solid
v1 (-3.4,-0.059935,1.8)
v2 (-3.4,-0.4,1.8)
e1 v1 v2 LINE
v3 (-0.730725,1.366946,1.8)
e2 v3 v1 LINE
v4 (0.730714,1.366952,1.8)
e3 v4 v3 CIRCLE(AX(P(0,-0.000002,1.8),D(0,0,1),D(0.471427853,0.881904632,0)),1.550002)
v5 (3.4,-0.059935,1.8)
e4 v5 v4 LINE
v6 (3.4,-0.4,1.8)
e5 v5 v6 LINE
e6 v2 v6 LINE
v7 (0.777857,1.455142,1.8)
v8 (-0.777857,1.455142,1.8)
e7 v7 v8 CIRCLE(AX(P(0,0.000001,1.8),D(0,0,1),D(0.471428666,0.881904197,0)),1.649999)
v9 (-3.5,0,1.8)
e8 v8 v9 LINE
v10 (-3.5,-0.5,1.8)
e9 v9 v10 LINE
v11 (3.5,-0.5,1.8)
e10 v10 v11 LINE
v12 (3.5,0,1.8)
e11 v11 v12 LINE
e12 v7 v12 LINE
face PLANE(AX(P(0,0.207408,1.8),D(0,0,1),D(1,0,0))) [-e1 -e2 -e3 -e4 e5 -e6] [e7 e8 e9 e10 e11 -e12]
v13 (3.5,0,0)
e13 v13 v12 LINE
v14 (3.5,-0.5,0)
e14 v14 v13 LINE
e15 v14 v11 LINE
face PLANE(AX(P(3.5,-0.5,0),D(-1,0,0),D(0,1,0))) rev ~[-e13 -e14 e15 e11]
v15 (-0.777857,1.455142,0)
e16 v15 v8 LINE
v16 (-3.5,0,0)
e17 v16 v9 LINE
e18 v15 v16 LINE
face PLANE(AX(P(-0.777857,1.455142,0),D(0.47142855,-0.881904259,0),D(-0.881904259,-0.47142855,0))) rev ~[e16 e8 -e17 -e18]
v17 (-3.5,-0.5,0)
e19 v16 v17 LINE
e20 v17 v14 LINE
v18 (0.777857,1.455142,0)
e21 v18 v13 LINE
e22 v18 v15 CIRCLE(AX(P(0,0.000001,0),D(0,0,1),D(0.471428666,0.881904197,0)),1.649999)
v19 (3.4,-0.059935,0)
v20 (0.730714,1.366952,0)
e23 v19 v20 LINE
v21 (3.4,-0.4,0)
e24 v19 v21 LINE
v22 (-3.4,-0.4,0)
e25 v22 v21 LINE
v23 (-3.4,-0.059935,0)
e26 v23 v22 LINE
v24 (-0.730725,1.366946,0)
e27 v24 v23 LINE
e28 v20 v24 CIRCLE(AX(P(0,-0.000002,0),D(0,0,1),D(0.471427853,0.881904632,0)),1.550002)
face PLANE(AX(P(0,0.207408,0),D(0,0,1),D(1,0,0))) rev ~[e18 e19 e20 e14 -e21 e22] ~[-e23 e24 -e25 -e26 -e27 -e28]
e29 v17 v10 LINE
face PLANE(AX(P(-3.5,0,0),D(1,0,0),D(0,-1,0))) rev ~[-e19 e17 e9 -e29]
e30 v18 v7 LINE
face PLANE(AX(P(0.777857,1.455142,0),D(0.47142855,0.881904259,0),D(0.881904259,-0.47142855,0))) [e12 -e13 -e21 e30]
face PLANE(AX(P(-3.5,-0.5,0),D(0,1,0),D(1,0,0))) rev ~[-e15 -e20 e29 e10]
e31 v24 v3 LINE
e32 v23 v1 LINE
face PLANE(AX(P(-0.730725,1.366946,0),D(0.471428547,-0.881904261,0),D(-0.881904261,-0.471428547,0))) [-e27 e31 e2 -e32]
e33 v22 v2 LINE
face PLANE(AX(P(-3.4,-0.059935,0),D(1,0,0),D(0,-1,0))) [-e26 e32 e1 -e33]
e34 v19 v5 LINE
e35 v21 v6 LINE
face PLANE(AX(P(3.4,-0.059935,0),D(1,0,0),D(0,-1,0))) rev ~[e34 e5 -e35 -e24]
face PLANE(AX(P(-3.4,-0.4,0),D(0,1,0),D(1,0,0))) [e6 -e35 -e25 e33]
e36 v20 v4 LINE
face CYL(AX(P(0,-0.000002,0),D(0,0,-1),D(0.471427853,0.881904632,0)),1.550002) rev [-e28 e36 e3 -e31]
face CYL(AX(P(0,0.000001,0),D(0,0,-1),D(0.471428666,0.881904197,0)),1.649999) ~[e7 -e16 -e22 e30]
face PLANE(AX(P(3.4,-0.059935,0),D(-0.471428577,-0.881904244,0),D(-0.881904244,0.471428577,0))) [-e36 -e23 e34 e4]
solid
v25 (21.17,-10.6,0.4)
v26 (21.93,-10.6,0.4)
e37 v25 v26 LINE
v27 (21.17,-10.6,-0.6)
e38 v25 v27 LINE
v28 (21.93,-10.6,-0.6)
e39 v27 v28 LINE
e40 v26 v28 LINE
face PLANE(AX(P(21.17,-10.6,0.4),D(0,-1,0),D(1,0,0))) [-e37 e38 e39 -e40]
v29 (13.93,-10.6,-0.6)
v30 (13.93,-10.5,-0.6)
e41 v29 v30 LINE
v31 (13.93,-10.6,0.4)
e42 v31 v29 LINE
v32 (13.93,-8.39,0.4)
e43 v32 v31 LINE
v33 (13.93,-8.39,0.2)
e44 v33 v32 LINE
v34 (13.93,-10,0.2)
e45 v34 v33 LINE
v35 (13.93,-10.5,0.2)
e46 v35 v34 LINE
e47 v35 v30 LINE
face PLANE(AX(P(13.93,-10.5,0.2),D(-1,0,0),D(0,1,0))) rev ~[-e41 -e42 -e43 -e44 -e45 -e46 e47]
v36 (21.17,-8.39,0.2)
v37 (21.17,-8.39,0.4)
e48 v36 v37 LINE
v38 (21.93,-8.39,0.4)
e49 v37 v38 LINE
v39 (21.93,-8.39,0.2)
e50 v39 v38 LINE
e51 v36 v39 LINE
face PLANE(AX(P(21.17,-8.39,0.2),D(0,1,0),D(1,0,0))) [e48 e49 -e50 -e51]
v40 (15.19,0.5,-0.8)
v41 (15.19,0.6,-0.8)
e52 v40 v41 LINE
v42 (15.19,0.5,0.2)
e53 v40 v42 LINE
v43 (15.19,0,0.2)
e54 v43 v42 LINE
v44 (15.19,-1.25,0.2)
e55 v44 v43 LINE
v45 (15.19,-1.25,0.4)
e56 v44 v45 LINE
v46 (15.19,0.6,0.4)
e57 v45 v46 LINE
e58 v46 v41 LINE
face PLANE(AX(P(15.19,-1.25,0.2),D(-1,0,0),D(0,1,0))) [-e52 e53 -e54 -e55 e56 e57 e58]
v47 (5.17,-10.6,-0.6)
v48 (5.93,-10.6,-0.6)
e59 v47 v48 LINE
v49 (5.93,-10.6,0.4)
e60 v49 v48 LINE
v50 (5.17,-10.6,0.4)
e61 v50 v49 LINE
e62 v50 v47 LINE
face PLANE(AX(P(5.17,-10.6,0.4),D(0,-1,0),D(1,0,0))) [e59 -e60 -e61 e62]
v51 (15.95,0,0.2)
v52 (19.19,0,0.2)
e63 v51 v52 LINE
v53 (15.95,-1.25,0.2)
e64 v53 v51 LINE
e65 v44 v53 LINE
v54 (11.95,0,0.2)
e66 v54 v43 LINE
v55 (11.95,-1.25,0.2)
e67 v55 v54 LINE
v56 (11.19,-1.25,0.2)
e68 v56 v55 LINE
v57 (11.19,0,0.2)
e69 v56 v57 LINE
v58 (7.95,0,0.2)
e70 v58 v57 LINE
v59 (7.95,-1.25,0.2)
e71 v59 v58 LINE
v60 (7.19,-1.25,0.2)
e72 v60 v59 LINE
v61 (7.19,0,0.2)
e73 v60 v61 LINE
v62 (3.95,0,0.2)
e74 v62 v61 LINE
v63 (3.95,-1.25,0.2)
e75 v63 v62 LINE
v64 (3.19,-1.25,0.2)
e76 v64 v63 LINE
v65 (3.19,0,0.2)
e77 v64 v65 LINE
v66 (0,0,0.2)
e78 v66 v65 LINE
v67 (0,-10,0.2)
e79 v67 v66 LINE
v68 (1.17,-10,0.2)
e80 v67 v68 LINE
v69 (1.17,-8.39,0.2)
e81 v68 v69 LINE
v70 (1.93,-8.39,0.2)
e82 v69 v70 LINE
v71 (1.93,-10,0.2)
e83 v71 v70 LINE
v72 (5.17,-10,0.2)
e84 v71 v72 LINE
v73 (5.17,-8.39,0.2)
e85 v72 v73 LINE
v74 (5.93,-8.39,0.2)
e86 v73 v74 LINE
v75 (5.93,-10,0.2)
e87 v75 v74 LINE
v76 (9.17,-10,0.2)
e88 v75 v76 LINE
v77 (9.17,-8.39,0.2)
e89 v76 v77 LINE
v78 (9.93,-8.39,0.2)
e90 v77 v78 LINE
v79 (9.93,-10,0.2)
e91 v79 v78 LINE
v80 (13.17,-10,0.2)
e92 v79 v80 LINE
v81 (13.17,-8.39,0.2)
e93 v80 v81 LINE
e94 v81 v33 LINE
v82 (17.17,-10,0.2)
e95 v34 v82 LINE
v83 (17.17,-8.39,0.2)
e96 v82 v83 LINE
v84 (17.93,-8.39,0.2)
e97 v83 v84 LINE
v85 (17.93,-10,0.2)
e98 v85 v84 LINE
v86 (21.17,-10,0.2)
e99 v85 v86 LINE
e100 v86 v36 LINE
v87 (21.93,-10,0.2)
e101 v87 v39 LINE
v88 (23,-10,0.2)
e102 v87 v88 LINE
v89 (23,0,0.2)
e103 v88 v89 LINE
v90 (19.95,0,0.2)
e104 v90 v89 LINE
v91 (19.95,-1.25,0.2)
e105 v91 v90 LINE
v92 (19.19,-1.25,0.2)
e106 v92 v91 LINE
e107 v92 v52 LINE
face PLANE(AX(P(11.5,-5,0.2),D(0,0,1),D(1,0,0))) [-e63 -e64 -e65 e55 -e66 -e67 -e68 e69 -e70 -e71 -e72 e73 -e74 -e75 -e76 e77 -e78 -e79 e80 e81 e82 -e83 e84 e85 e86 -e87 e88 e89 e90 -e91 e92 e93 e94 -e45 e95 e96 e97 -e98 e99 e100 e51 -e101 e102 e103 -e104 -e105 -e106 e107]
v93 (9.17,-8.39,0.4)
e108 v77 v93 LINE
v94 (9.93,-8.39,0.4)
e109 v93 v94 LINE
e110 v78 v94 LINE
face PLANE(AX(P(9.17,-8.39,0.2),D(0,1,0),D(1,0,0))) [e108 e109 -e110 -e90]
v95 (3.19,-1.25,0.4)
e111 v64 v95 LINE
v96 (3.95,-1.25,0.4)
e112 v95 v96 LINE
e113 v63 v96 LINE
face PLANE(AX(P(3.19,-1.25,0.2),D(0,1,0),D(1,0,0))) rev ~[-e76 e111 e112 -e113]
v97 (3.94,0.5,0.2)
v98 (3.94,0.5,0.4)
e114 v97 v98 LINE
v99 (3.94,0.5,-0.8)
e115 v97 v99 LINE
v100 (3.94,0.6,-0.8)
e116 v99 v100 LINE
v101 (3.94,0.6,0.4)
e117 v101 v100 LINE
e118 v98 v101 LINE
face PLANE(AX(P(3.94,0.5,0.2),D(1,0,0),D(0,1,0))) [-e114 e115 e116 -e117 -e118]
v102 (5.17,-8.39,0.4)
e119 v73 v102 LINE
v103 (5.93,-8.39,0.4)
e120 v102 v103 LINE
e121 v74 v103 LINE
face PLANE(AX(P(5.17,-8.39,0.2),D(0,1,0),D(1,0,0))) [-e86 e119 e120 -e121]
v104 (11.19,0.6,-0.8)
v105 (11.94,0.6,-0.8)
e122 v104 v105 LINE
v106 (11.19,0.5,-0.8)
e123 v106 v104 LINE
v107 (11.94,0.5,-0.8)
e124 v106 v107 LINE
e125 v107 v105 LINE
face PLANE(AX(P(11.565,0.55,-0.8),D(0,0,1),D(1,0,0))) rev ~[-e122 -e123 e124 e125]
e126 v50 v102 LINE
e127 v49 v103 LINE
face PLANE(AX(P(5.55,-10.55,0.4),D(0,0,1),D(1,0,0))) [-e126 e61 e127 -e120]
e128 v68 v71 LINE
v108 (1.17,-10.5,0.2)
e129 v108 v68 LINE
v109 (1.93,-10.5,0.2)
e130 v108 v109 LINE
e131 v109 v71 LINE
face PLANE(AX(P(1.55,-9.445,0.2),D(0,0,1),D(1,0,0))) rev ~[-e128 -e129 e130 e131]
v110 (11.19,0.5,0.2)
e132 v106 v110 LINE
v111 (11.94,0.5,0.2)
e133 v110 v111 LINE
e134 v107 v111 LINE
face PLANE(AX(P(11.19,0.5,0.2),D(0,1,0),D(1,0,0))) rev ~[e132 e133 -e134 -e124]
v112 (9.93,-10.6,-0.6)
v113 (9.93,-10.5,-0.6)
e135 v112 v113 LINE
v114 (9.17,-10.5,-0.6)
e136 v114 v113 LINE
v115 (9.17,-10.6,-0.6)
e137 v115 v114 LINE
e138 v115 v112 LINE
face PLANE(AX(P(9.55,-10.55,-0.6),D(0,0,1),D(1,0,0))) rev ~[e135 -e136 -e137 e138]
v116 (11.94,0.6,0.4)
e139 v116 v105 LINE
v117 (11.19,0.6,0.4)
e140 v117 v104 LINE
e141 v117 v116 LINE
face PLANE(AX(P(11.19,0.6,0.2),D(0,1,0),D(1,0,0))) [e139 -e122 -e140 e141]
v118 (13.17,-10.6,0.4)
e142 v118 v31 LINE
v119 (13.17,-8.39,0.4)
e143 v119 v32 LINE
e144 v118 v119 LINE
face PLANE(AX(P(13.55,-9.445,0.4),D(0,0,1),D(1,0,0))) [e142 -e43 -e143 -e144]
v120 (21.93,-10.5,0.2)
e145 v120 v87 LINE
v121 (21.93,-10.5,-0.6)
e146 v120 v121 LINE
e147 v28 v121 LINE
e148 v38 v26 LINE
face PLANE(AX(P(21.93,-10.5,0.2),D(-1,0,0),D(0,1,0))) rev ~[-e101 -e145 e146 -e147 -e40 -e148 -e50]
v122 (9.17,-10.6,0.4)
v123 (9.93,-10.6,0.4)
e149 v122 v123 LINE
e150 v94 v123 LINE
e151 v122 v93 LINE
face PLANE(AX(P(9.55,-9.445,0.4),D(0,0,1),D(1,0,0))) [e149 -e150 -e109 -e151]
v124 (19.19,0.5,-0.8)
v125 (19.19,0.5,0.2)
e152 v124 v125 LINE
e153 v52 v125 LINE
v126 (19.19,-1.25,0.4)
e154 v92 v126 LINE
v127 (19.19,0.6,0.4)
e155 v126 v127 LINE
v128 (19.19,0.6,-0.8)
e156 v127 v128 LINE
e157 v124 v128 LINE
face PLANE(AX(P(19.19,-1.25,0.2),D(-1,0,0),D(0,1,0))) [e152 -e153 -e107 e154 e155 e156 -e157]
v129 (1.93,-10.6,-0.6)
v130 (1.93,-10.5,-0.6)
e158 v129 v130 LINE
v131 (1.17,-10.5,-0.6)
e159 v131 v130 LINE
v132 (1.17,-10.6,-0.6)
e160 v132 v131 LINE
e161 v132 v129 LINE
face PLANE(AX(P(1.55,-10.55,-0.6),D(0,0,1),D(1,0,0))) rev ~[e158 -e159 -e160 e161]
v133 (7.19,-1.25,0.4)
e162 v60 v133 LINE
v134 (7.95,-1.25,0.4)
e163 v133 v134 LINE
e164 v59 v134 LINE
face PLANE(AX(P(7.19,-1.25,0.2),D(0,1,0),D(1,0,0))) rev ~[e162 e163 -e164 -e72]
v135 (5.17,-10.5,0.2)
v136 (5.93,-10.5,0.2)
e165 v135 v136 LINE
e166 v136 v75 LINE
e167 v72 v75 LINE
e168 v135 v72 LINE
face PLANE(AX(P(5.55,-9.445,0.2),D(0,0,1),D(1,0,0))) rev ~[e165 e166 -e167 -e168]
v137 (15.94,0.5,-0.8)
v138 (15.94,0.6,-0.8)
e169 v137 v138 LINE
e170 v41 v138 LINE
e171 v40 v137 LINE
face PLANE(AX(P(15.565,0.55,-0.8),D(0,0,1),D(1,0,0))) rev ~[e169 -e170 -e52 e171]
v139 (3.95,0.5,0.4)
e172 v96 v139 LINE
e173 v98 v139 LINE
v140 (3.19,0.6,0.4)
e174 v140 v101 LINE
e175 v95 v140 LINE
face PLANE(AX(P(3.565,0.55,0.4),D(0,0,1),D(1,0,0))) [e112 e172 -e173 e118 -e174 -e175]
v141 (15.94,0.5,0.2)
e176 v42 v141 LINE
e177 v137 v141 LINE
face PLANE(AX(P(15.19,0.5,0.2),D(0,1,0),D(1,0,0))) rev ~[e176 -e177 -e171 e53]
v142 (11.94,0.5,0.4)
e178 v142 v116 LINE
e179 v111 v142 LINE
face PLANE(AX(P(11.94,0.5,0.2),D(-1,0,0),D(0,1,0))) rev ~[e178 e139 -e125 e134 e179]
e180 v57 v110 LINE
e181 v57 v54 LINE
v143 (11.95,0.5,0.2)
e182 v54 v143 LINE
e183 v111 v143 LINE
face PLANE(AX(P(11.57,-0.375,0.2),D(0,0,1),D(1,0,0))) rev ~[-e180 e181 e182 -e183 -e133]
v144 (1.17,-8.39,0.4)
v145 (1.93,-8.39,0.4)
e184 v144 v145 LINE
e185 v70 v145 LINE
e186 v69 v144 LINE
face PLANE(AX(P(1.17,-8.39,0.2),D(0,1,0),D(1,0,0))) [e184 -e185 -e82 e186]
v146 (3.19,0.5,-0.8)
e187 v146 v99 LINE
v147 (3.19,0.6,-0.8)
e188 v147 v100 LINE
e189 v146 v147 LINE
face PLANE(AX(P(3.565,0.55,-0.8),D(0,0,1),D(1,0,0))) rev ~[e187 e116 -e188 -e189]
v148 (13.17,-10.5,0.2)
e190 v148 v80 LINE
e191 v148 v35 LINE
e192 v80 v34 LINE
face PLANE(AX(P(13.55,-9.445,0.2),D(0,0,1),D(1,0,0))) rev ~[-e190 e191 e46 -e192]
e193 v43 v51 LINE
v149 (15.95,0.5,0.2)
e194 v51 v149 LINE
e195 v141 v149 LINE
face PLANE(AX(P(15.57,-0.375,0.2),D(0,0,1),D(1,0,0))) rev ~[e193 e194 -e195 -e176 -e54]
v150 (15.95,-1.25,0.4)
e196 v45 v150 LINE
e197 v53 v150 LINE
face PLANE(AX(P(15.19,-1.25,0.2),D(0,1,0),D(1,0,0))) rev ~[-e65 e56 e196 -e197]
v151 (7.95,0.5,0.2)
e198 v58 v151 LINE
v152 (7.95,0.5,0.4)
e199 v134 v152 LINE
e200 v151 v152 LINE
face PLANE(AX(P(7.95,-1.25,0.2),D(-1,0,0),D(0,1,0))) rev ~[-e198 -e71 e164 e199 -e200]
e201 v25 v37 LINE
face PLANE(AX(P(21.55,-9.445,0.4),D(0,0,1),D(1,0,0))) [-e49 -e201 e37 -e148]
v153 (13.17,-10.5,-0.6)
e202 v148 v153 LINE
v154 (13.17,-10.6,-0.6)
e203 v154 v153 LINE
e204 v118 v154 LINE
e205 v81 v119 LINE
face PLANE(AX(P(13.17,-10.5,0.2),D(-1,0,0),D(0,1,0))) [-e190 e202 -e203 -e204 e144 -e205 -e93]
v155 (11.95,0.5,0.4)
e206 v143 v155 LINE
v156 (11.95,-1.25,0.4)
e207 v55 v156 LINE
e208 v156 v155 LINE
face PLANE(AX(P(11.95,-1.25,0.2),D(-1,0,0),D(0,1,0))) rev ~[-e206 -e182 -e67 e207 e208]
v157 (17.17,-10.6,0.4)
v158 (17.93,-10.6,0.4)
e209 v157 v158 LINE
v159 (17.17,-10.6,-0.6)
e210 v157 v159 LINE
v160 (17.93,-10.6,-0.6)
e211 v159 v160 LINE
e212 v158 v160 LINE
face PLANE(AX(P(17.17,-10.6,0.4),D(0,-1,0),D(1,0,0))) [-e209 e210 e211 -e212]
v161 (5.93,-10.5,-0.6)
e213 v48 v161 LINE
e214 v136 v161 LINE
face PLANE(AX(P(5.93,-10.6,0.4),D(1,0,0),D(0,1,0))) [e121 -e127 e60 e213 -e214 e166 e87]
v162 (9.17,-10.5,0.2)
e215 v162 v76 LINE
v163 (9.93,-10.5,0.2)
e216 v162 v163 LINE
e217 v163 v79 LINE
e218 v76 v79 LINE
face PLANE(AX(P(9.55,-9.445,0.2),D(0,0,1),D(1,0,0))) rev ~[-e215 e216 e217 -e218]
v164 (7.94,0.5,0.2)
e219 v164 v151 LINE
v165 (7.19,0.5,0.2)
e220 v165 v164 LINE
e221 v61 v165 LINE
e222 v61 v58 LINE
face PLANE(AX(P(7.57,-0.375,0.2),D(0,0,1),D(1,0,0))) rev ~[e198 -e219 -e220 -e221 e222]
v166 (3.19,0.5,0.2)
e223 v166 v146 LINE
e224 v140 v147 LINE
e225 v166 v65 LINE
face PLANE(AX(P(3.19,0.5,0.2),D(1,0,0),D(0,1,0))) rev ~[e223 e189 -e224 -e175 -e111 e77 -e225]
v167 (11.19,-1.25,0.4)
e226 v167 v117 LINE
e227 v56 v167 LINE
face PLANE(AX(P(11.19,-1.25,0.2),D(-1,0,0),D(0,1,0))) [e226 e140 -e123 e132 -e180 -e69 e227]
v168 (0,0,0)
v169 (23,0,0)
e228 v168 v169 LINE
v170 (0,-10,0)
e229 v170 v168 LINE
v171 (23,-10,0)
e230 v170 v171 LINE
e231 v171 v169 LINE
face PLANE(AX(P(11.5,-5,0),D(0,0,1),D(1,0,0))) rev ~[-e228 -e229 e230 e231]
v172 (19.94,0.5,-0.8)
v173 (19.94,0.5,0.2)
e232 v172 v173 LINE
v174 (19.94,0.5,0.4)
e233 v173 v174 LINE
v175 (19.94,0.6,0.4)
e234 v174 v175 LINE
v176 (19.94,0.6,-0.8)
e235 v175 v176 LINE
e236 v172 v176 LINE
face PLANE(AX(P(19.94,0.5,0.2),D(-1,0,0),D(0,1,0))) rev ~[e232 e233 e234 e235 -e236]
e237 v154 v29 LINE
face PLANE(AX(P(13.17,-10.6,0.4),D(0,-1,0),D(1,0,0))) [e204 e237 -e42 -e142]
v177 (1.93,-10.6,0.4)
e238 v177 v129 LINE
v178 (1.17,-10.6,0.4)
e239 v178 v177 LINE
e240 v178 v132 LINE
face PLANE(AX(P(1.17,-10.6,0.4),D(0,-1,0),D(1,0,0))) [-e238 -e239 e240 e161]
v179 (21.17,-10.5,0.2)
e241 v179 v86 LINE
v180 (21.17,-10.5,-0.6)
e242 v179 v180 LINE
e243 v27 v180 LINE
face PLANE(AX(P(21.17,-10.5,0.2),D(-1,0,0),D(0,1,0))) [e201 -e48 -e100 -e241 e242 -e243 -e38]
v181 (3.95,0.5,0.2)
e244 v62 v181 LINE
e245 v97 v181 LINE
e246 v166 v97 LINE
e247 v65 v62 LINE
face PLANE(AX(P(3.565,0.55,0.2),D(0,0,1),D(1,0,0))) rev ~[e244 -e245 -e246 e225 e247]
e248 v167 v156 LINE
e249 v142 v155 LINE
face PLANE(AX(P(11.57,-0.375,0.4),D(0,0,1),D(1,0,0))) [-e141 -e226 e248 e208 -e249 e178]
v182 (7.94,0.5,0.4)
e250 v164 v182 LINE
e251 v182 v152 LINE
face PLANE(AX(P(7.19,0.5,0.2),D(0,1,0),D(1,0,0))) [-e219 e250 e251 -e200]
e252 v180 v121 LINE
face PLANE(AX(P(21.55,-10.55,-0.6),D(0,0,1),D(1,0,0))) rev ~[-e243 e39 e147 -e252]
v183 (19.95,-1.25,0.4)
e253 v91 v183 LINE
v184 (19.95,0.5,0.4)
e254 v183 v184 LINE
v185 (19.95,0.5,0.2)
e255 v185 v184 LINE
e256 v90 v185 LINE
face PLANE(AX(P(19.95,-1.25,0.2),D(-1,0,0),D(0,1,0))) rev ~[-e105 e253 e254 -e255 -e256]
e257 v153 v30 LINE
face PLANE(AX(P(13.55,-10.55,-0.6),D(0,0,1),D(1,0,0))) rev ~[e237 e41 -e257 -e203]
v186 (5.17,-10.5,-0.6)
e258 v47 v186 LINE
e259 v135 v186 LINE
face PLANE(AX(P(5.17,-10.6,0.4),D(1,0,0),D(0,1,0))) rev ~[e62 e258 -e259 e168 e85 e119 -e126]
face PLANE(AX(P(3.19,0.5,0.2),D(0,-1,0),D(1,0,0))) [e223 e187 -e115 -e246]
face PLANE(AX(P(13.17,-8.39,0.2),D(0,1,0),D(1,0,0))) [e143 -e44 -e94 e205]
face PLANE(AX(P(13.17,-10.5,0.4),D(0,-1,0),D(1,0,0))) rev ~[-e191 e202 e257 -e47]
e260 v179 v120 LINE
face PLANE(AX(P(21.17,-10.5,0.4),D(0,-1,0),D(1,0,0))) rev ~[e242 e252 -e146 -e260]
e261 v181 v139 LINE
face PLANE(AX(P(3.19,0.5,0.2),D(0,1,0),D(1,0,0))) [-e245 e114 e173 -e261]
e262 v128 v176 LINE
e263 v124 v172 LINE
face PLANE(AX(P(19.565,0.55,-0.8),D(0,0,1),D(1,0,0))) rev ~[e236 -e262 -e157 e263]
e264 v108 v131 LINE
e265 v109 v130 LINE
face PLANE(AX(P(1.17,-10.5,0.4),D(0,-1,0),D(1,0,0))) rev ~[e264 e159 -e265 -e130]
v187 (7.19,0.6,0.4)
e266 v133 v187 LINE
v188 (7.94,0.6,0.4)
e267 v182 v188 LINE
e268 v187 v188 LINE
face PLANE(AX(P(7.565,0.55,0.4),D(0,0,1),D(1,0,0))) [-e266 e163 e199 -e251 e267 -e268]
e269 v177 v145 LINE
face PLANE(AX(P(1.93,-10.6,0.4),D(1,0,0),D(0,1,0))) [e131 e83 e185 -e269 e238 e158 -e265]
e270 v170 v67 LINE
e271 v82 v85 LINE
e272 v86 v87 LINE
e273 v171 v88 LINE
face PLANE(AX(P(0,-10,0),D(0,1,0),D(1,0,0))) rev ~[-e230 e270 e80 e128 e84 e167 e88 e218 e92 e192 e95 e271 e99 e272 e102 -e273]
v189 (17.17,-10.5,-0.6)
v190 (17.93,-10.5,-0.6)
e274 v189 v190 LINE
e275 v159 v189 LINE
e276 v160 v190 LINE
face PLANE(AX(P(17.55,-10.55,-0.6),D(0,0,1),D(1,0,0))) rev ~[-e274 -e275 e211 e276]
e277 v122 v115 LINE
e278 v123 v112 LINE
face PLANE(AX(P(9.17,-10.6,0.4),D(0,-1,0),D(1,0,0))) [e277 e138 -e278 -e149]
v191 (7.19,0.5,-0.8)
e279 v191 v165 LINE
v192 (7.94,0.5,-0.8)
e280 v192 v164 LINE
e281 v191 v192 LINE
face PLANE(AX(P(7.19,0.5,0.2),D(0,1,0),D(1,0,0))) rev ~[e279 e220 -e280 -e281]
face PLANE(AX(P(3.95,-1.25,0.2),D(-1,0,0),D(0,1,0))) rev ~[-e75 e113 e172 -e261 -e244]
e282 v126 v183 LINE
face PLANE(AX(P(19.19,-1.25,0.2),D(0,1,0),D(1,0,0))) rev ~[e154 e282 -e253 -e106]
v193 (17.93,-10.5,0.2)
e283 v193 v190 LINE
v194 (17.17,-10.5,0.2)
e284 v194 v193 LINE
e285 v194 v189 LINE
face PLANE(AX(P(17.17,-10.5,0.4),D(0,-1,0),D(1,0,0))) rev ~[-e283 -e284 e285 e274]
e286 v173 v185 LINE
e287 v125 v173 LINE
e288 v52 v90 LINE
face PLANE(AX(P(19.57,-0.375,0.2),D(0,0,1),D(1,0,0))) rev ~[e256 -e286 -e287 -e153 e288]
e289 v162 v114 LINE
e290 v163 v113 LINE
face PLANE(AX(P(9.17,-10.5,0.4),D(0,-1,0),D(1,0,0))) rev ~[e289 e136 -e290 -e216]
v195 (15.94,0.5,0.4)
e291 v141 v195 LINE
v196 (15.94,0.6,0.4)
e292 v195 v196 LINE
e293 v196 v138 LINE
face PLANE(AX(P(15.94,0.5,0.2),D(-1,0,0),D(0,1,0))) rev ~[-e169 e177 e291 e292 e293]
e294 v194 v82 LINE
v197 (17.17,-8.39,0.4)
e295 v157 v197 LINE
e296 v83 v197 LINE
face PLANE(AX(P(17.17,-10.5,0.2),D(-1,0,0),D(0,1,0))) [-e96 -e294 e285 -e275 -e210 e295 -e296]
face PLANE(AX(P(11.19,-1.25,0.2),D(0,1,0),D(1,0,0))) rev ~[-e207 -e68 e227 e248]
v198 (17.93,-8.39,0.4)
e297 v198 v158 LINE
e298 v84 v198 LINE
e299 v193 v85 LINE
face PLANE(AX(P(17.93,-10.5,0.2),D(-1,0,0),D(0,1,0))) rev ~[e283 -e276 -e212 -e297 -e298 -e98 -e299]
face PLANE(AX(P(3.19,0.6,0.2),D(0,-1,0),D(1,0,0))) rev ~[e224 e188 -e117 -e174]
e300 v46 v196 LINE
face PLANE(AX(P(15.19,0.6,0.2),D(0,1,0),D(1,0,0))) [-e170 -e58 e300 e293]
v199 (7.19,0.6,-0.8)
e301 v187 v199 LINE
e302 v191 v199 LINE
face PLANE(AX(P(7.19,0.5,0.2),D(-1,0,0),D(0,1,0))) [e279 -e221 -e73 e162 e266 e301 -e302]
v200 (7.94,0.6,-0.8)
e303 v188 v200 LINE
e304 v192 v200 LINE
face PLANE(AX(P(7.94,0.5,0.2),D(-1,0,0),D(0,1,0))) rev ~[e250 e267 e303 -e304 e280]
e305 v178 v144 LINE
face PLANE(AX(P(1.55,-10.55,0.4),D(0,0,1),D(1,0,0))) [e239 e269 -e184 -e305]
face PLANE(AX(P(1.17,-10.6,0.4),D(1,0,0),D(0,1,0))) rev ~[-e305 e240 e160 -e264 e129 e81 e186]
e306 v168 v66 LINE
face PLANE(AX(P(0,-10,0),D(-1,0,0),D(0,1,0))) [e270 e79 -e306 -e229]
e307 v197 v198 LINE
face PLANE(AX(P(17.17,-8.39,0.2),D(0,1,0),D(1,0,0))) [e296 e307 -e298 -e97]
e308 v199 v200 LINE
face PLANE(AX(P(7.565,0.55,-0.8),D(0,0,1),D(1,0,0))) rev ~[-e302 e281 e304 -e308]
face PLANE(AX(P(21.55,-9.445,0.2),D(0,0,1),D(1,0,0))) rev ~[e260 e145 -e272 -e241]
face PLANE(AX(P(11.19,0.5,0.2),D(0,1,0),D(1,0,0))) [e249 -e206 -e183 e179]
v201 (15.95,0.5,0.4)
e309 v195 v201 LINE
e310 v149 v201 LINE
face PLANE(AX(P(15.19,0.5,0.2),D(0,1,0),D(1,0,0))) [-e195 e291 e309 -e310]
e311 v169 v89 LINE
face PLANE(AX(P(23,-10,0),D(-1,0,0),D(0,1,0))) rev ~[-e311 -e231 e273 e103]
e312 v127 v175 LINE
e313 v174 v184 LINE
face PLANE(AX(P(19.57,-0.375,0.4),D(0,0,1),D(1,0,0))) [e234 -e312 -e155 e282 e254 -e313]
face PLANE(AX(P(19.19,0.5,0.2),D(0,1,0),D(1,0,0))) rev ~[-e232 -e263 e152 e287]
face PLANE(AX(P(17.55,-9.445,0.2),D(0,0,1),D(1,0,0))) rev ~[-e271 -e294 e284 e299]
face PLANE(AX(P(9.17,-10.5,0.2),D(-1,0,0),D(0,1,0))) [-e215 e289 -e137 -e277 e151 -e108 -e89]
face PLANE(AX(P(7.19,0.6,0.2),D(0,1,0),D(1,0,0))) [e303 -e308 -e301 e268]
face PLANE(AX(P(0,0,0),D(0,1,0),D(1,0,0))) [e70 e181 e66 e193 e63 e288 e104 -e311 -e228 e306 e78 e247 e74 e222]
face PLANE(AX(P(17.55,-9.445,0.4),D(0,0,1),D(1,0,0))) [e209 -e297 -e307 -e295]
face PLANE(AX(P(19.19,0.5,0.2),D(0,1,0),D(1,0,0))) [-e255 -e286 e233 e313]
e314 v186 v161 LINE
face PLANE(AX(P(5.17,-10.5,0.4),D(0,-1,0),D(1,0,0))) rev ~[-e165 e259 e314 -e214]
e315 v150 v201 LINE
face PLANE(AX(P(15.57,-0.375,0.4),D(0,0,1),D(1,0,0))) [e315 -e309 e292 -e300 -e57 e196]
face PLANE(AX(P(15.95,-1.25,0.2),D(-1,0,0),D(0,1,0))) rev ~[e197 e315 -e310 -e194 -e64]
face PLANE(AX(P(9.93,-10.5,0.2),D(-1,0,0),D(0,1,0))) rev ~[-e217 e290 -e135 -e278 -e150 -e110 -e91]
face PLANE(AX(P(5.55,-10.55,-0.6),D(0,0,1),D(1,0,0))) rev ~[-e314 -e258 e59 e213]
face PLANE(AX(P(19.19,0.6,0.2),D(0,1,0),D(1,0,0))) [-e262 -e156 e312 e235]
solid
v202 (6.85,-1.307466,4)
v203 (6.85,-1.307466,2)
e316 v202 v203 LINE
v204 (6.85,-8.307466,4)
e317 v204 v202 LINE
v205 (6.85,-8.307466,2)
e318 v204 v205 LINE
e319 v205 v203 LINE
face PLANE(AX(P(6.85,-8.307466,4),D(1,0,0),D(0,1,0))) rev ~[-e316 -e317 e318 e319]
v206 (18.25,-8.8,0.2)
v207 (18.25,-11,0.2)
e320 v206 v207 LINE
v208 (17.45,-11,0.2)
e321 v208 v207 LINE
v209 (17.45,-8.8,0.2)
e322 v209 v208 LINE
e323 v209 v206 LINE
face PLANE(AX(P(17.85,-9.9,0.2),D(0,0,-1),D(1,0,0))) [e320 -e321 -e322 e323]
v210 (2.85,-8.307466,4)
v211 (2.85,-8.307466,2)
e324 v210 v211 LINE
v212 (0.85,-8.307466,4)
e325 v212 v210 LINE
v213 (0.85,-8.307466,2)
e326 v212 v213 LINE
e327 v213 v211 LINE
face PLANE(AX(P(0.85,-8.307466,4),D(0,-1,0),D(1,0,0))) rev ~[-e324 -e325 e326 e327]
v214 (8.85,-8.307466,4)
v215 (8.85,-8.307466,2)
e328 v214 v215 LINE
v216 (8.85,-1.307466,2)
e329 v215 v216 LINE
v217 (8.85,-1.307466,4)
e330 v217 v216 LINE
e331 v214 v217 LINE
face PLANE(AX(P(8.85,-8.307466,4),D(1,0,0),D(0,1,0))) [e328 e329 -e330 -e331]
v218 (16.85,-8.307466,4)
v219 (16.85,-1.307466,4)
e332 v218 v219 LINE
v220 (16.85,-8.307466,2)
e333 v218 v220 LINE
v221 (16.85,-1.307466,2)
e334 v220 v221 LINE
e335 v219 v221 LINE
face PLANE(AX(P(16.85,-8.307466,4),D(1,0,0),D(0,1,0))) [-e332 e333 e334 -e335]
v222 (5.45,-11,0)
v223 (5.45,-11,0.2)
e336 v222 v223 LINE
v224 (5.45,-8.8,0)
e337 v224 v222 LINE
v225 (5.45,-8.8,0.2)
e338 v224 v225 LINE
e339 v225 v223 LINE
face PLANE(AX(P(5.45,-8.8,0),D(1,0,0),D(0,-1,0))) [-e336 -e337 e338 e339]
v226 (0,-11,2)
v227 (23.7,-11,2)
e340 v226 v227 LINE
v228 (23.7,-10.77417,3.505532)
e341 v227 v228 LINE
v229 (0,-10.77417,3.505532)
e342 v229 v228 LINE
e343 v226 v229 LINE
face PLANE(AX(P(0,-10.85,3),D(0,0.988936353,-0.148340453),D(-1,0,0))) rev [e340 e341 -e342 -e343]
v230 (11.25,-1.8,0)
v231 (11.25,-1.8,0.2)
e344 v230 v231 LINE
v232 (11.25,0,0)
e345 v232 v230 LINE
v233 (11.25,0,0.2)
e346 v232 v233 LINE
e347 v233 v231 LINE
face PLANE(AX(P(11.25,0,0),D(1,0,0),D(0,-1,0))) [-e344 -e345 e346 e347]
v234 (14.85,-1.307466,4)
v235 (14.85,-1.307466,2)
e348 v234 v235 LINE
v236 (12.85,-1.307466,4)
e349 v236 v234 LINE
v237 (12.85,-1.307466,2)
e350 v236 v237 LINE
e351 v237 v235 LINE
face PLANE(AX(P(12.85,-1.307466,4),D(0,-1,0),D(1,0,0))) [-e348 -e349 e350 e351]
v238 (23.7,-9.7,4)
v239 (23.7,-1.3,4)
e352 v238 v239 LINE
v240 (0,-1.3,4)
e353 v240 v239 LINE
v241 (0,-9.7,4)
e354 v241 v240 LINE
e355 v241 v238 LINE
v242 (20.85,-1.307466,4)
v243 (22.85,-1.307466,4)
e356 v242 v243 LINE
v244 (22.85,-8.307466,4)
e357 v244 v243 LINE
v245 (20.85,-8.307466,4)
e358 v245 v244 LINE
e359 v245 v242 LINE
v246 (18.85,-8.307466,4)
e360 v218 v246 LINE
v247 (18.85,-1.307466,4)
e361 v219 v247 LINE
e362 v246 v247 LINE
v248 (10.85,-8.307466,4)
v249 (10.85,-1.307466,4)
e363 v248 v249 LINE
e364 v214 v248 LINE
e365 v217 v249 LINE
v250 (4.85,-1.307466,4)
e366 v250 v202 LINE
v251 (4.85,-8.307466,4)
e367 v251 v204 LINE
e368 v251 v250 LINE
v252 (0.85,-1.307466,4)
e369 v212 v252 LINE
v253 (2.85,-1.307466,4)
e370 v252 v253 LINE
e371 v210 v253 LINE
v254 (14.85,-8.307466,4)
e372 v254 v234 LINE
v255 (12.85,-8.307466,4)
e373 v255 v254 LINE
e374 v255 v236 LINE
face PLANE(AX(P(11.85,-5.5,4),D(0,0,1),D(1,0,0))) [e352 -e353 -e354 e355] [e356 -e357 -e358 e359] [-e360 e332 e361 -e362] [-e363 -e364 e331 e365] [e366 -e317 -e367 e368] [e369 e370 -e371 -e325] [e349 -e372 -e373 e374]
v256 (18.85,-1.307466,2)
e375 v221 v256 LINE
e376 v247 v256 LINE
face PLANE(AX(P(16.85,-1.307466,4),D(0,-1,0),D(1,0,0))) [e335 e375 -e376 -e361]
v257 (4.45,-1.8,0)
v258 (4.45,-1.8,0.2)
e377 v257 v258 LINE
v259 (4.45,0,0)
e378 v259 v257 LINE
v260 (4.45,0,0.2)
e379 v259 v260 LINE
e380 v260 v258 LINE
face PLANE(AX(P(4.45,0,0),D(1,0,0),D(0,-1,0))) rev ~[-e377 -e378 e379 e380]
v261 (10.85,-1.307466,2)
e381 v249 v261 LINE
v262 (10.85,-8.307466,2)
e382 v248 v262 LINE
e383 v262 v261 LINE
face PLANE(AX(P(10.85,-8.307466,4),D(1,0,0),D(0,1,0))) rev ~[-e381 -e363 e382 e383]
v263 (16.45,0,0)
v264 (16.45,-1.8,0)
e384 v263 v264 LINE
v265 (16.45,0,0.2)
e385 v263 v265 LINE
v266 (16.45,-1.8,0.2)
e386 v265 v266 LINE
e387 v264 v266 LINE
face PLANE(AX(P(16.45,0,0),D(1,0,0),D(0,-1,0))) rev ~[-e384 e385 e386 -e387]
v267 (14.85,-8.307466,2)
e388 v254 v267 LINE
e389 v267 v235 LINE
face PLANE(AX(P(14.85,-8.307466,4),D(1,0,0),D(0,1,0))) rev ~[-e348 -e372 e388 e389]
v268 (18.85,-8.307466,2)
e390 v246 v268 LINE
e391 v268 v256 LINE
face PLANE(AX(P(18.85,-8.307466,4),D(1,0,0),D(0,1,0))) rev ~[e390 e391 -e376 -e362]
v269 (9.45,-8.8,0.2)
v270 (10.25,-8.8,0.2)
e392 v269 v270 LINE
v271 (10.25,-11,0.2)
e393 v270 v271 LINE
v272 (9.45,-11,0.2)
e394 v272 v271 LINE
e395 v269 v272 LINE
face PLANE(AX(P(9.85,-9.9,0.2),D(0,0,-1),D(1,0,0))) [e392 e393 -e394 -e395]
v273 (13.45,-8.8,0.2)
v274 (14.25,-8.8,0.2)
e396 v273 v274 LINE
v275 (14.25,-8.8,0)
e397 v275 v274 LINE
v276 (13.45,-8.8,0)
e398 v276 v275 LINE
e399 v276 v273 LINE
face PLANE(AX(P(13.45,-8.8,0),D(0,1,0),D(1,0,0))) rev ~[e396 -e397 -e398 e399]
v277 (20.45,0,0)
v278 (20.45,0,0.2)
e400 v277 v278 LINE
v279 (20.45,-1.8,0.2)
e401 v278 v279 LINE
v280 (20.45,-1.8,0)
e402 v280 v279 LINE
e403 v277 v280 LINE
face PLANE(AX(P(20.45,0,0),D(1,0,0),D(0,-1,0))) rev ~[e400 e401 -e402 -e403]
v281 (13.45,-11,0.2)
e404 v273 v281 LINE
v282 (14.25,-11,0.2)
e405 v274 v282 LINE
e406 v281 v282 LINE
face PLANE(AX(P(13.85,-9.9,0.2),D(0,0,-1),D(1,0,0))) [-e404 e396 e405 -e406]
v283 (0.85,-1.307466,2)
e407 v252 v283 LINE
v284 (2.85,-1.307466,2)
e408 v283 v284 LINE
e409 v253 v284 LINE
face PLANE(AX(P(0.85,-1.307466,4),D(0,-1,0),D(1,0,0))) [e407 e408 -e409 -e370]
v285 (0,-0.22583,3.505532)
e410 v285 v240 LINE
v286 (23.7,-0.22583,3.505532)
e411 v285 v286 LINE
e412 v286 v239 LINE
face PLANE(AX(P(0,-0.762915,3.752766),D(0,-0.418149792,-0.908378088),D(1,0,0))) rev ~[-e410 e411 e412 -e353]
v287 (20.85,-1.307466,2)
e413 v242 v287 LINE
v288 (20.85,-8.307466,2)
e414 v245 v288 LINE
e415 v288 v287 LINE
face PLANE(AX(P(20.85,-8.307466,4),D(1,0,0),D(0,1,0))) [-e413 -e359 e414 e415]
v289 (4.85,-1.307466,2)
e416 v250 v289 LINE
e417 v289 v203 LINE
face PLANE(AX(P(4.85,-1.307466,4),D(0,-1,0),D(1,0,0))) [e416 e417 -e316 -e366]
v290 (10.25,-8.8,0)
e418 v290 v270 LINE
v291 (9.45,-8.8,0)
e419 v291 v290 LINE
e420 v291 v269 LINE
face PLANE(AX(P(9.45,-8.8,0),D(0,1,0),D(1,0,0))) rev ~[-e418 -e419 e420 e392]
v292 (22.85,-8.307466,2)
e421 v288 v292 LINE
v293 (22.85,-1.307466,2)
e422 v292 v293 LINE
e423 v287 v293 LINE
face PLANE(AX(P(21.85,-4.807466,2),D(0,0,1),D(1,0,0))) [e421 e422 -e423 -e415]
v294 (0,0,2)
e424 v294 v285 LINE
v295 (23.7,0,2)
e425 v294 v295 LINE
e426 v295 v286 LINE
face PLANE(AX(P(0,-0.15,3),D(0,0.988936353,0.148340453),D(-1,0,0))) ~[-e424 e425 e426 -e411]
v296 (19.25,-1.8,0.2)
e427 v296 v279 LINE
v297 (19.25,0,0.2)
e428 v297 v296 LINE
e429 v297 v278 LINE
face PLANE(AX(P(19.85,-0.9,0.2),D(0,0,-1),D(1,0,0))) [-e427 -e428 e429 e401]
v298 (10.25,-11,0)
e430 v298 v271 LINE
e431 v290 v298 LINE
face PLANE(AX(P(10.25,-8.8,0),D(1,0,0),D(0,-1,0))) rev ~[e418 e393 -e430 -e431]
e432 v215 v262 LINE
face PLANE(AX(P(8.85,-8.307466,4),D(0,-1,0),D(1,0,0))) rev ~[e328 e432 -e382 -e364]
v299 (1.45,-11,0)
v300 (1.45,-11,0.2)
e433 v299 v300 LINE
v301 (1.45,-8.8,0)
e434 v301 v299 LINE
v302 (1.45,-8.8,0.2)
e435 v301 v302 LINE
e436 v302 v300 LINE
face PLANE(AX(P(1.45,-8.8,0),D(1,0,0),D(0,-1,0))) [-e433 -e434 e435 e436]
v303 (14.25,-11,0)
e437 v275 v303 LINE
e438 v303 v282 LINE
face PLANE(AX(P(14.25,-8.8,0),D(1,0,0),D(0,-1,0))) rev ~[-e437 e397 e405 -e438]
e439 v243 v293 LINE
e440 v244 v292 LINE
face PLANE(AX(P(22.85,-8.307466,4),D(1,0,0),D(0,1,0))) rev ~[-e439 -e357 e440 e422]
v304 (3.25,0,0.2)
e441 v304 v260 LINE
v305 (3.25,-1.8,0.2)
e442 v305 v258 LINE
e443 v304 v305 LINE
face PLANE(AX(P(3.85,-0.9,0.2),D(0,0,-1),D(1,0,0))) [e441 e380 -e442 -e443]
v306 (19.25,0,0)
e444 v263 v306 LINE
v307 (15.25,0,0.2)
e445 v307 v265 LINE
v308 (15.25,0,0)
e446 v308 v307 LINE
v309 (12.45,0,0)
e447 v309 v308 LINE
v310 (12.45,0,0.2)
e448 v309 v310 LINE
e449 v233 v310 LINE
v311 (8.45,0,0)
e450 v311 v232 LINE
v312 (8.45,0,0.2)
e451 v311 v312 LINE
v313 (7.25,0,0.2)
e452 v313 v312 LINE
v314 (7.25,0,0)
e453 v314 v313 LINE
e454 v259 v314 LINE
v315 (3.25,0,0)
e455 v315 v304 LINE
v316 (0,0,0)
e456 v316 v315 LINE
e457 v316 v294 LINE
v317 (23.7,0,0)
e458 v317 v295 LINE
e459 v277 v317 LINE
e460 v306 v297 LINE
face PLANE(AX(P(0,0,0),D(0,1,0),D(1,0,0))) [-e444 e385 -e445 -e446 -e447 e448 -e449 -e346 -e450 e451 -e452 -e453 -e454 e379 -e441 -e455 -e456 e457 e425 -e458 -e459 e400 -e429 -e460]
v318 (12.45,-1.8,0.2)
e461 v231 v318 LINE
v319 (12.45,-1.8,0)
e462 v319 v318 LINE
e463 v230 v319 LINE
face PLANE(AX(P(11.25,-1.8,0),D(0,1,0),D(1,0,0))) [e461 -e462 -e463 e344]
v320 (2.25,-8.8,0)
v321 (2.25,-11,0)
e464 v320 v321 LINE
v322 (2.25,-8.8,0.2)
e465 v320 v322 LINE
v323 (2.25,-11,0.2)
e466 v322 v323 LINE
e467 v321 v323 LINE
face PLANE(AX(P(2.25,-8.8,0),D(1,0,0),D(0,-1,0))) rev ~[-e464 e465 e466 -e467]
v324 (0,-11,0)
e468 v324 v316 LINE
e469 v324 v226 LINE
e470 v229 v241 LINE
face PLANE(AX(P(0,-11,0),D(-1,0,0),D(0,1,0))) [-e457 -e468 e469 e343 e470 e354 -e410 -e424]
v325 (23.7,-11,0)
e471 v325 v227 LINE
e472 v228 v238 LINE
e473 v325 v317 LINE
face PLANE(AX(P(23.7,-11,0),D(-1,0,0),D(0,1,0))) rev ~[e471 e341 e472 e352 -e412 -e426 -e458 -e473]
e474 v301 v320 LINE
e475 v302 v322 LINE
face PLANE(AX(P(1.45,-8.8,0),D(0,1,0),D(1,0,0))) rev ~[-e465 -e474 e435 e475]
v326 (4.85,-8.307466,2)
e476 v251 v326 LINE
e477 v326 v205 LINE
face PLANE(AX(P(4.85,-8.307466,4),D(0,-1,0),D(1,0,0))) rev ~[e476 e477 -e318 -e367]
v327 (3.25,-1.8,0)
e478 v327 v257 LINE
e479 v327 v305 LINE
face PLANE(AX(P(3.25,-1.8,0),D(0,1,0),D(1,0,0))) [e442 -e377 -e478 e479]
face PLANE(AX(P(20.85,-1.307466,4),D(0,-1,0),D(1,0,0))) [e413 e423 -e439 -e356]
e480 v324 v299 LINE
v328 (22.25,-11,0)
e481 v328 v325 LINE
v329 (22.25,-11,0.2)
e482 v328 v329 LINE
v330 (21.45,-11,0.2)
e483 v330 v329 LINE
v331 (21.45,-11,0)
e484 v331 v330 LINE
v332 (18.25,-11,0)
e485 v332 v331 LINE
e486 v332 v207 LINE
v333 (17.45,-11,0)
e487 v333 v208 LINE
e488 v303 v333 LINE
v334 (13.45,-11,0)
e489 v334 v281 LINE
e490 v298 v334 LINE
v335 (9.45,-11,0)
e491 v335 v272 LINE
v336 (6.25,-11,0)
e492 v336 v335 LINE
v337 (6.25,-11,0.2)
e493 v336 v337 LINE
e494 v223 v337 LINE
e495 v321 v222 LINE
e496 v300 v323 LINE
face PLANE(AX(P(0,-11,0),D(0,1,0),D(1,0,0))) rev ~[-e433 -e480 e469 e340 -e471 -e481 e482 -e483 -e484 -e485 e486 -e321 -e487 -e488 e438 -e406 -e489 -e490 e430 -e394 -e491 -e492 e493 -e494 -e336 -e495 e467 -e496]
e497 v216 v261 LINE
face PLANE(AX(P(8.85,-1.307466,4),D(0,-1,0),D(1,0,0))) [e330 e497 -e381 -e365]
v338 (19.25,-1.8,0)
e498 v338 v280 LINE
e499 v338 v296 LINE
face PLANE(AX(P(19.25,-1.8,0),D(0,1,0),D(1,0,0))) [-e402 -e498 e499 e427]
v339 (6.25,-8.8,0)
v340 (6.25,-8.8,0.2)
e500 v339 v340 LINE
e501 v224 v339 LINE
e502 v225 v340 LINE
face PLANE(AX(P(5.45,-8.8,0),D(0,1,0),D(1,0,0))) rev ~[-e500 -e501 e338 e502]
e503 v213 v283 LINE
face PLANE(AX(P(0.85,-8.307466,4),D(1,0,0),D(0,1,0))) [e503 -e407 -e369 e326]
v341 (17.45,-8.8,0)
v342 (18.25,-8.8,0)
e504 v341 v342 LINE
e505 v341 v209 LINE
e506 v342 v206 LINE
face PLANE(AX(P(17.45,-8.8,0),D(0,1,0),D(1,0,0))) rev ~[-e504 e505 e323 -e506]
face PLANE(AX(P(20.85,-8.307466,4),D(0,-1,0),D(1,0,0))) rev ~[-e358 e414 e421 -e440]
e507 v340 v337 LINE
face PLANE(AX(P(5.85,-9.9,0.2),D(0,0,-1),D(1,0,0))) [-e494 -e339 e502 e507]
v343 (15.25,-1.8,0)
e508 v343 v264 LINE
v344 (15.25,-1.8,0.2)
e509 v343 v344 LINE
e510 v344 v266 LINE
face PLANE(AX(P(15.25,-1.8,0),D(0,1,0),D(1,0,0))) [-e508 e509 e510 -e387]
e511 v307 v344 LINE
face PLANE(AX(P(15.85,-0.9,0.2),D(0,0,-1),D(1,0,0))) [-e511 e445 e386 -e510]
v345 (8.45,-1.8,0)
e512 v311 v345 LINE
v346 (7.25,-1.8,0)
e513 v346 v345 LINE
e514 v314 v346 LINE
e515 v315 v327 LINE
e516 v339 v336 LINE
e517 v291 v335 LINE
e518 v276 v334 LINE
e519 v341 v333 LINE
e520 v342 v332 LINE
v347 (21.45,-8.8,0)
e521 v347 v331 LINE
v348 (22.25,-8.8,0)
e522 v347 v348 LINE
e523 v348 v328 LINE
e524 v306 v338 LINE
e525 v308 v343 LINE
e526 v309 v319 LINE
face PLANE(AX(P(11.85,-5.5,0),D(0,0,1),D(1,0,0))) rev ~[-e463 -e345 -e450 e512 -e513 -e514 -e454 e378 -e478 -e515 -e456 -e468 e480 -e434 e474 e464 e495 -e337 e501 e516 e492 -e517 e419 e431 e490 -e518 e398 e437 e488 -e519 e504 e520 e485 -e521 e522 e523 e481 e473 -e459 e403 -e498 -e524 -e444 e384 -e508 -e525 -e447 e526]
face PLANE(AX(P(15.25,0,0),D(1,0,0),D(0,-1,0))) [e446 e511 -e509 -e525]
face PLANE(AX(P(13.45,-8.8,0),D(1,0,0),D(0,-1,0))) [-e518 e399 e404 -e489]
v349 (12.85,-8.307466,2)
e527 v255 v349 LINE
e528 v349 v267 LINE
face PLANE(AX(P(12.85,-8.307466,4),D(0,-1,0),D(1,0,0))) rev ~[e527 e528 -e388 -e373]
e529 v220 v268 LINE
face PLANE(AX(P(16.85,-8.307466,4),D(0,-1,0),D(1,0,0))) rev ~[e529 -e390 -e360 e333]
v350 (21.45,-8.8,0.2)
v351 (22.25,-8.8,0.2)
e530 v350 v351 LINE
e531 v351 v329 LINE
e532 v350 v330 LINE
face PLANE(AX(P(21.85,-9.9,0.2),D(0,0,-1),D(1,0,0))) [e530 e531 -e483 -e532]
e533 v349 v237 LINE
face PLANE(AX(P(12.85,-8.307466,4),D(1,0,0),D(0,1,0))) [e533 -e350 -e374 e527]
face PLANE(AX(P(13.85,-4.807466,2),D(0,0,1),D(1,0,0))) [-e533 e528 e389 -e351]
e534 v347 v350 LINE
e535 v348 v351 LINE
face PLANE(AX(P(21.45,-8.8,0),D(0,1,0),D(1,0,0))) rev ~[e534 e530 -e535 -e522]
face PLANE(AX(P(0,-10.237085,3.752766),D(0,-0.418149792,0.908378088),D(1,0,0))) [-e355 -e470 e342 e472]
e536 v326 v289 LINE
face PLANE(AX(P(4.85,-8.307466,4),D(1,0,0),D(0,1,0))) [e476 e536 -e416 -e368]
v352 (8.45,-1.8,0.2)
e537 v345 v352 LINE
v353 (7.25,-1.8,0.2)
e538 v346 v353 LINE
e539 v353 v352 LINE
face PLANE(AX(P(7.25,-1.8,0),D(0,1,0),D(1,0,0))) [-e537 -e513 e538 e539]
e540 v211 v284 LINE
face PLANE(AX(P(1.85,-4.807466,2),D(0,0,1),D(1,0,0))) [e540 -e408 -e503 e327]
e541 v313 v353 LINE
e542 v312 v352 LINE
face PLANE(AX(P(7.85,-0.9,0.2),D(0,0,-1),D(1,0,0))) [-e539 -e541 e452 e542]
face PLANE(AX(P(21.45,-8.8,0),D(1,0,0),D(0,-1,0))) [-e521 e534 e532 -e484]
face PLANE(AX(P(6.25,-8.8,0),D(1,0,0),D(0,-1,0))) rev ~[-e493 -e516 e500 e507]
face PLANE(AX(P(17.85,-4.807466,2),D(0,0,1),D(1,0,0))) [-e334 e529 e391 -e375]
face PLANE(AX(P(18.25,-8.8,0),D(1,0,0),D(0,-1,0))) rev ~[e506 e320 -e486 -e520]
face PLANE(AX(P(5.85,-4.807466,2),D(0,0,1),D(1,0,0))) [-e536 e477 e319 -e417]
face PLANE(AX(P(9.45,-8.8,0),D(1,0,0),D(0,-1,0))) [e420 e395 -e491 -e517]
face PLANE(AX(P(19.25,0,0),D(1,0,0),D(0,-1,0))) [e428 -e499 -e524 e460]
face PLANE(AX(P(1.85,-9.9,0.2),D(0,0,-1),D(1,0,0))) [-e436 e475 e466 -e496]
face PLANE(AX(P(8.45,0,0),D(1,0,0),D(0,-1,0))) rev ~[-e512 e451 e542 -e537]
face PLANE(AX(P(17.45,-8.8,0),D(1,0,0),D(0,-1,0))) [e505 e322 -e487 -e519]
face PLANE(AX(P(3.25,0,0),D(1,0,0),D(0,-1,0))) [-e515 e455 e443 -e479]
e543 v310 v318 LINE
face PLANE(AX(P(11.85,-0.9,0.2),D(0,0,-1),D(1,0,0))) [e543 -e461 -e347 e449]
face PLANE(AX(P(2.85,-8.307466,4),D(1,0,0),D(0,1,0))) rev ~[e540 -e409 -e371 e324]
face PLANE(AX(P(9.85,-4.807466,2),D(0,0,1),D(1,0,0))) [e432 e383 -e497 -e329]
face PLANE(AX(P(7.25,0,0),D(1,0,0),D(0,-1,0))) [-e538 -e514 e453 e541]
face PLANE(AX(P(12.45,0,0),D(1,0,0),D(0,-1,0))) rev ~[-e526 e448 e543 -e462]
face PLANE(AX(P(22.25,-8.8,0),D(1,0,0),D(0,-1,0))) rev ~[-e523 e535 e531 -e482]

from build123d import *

# Parameters (mm, degrees)
SKETCH_W               = 23.7
SKETCH_H               = 11
PAD_DEPTH              = 4
CHAMFER_1_SIZE2        = 0.3
CHAMFER_1_SIZE         = 2
CHAMFER_2_SIZE2        = 0.3
CHAMFER_2_SIZE         = 2
CHAMFER001_1_SIZE2     = 1
CHAMFER001_1_SIZE      = 0.5
CHAMFER001_2_SIZE2     = 1
CHAMFER001_2_SIZE      = 0.5
SKETCH001_W            = 2
SKETCH001_H            = 7
POCKET_DEPTH           = 2
LINEARPATTERN_COUNT    = 6
LINEARPATTERN_PITCH    = 4
SKETCH002_W            = 0.8
SKETCH002_H            = 2.2
POCKET001_DEPTH        = 0.2
LINEARPATTERN001_COUNT = 6
LINEARPATTERN001_PITCH = 4
SKETCH003_W            = 1.2
SKETCH003_H            = 1.8
POCKET002_DEPTH        = 0.2
LINEARPATTERN002_COUNT = 5
LINEARPATTERN002_PITCH = 4
PAD001_DEPTH           = 1.8
SKETCH005_W            = 23
SKETCH005_H            = 10
PAD002_DEPTH           = 0.2
SKETCH006_W            = 0.76
SKETCH006_H            = 2.11
PAD003_DEPTH           = 0.2
LINEARPATTERN003_COUNT = 6
LINEARPATTERN003_PITCH = 4
SKETCH007_W            = 0.76
SKETCH007_H            = 1.75
PAD004_DEPTH           = 0.2
LINEARPATTERN004_COUNT = 5
LINEARPATTERN004_PITCH = 4
SKETCH008_W            = 0.75
SKETCH008_H            = 0.1
PAD005_DEPTH           = 0.2
PAD005_DEPTH_BACK      = 1
LINEARPATTERN005_COUNT = 5
LINEARPATTERN005_PITCH = 4
SKETCH009_W            = 0.76
SKETCH009_H            = 0.1
PAD006_DEPTH           = 1
LINEARPATTERN006_COUNT = 6
LINEARPATTERN006_PITCH = 4


with BuildPart() as body:
    # Sketch → Pad (new body)
    with BuildSketch(Plane.XY):
        with Locations((11.85, -5.5)):
            Rectangle(SKETCH_W, SKETCH_H)
    extrude(amount=PAD_DEPTH)

    # Chamfer 1
    chamfer_1_edges = [body.edges().sort_by_distance(p)[0] for p in [
        (11.85, -11, 4),
    ]]
    chamfer_1_side = body.faces().sort_by_distance((11.85, -11, 2))[0]
    chamfer(chamfer_1_edges, length=CHAMFER_1_SIZE, length2=CHAMFER_1_SIZE2, reference=chamfer_1_side)

    # Chamfer 2
    chamfer_2_edges = [body.edges().sort_by_distance(p)[0] for p in [
        (11.85, 0, 4),
    ]]
    chamfer_2_side = body.faces().sort_by_distance((11.85, 0, 2))[0]
    chamfer(chamfer_2_edges, length=CHAMFER_2_SIZE, length2=CHAMFER_2_SIZE2, reference=chamfer_2_side)

    # Chamfer001 1
    chamfer001_1_edges = [body.edges().sort_by_distance(p)[0] for p in [
        (11.85, -10.7, 4),
    ]]
    chamfer001_1_side = body.faces().sort_by_distance((11.85, -10.85, 3))[0]
    chamfer(chamfer001_1_edges, length=CHAMFER001_1_SIZE, length2=CHAMFER001_1_SIZE2, reference=chamfer001_1_side)

    # Chamfer001 2
    chamfer001_2_edges = [body.edges().sort_by_distance(p)[0] for p in [
        (11.85, -0.3, 4),
    ]]
    chamfer001_2_side = body.faces().sort_by_distance((11.85, -0.15, 3))[0]
    chamfer(chamfer001_2_edges, length=CHAMFER001_2_SIZE, length2=CHAMFER001_2_SIZE2, reference=chamfer001_2_side)

    # Sketch001 (on Face5 of Chamfer001) → Pocket (cut)
    with BuildSketch(Plane.XY.offset(4)):
        with Locations((1.85, -4.807466)):
            Rectangle(SKETCH001_W, SKETCH001_H)
    pocket = extrude(amount=-POCKET_DEPTH, mode=Mode.SUBTRACT)

    # LinearPattern: Pocket ×6
    with Locations(*[(i * LINEARPATTERN_PITCH, 0, 0) for i in range(1, LINEARPATTERN_COUNT)]):
        add(pocket, mode=Mode.SUBTRACT)

    # Sketch002 (on Face6 of LinearPattern) → Pocket001 (cut)
    with BuildSketch(Plane(origin=(0, 0, 0), x_dir=(1, 0, 0), z_dir=(0, 0, -1))):
        with Locations((1.85, 9.9)):
            Rectangle(SKETCH002_W, SKETCH002_H)
    pocket001 = extrude(amount=-POCKET001_DEPTH, mode=Mode.SUBTRACT)

    # LinearPattern001: Pocket001 ×6
    with Locations(*[(i * LINEARPATTERN001_PITCH, 0, 0) for i in range(1, LINEARPATTERN001_COUNT)]):
        add(pocket001, mode=Mode.SUBTRACT)

    # Sketch003 (on Face6 of LinearPattern001) → Pocket002 (cut)
    with BuildSketch(Plane(origin=(0, 0, 0), x_dir=(1, 0, 0), z_dir=(0, 0, -1))):
        with Locations((3.85, 0.9)):
            Rectangle(SKETCH003_W, SKETCH003_H)
    pocket002 = extrude(amount=-POCKET002_DEPTH, mode=Mode.SUBTRACT)

    # LinearPattern002: Pocket002 ×5
    with Locations(*[(i * LINEARPATTERN002_PITCH, 0, 0) for i in range(1, LINEARPATTERN002_COUNT)]):
        add(pocket002, mode=Mode.SUBTRACT)


with BuildPart() as body001:
    # Sketch004 → Pad001 (new body)
    with BuildSketch(Plane.XY):
        with BuildLine():
            ThreePointArc((0.777857, 1.455142), (0, 1.65), (-0.777857, 1.455142))
            Line((-0.777857, 1.455142), (-3.5, 0))
            Line((-3.5, 0), (-3.5, -0.5))
            Line((-3.5, -0.5), (3.5, -0.5))
            Line((3.5, -0.5), (3.5, 0))
            Line((0.777857, 1.455142), (3.5, 0))
        make_face()
        with BuildLine():
            Line((-0.730725, 1.366946), (-3.4, -0.059935))
            Line((-3.4, -0.059935), (-3.4, -0.4))
            Line((-3.4, -0.4), (3.4, -0.4))
            Line((3.4, -0.059935), (3.4, -0.4))
            Line((3.4, -0.059935), (0.730714, 1.366952))
            ThreePointArc((0.730714, 1.366952), (-6e-06, 1.55), (-0.730725, 1.366946))
        make_face(mode=Mode.SUBTRACT)
    extrude(amount=PAD001_DEPTH)


with BuildPart() as body002:
    # Sketch005 → Pad002 (new body)
    with BuildSketch(Plane.XY):
        with Locations((11.5, -5)):
            Rectangle(SKETCH005_W, SKETCH005_H)
    extrude(amount=PAD002_DEPTH)

    # Sketch006 (on Face6 of Pad002) → Pad003 (join)
    with BuildSketch(Plane.XY.offset(0.2)):
        with Locations((1.55, -9.445)):
            Rectangle(SKETCH006_W, SKETCH006_H)
    pad003 = extrude(amount=PAD003_DEPTH)

    # LinearPattern003: Pad003 ×6
    with Locations(*[(i * LINEARPATTERN003_PITCH, 0, 0) for i in range(1, LINEARPATTERN003_COUNT)]):
        add(pad003)

    # Sketch007 (on Face5 of LinearPattern003) → Pad004 (join)
    with BuildSketch(Plane.XY.offset(0.2)):
        with Locations((3.57, -0.375)):
            Rectangle(SKETCH007_W, SKETCH007_H)
    pad004 = extrude(amount=PAD004_DEPTH)

    # LinearPattern004: Pad004 ×5
    with Locations(*[(i * LINEARPATTERN004_PITCH, 0, 0) for i in range(1, LINEARPATTERN004_COUNT)]):
        add(pad004)

    # Sketch008 (on Face5 of LinearPattern004) → Pad005 (join, two sides)
    with BuildSketch(Plane.XY.offset(0.2)) as pad005_sk:
        with Locations((3.565, 0.55)):
            Rectangle(SKETCH008_W, SKETCH008_H)
    pad005 = extrude(amount=PAD005_DEPTH) + extrude(pad005_sk.sketch, amount=-PAD005_DEPTH_BACK)

    # LinearPattern005: Pad005 ×5
    with Locations(*[(i * LINEARPATTERN005_PITCH, 0, 0) for i in range(1, LINEARPATTERN005_COUNT)]):
        add(pad005)

    # Sketch009 (on Face62 of LinearPattern005) → Pad006 (join)
    with BuildSketch(Plane.XY.offset(0.4)):
        with Locations((1.55, -10.55)):
            Rectangle(SKETCH009_W, SKETCH009_H)
    pad006 = extrude(amount=-PAD006_DEPTH)

    # LinearPattern006: Pad006 ×6
    with Locations(*[(i * LINEARPATTERN006_PITCH, 0, 0) for i in range(1, LINEARPATTERN006_COUNT)]):
        add(pad006)


solid = Compound([body.part, body001.part, body002.part])
